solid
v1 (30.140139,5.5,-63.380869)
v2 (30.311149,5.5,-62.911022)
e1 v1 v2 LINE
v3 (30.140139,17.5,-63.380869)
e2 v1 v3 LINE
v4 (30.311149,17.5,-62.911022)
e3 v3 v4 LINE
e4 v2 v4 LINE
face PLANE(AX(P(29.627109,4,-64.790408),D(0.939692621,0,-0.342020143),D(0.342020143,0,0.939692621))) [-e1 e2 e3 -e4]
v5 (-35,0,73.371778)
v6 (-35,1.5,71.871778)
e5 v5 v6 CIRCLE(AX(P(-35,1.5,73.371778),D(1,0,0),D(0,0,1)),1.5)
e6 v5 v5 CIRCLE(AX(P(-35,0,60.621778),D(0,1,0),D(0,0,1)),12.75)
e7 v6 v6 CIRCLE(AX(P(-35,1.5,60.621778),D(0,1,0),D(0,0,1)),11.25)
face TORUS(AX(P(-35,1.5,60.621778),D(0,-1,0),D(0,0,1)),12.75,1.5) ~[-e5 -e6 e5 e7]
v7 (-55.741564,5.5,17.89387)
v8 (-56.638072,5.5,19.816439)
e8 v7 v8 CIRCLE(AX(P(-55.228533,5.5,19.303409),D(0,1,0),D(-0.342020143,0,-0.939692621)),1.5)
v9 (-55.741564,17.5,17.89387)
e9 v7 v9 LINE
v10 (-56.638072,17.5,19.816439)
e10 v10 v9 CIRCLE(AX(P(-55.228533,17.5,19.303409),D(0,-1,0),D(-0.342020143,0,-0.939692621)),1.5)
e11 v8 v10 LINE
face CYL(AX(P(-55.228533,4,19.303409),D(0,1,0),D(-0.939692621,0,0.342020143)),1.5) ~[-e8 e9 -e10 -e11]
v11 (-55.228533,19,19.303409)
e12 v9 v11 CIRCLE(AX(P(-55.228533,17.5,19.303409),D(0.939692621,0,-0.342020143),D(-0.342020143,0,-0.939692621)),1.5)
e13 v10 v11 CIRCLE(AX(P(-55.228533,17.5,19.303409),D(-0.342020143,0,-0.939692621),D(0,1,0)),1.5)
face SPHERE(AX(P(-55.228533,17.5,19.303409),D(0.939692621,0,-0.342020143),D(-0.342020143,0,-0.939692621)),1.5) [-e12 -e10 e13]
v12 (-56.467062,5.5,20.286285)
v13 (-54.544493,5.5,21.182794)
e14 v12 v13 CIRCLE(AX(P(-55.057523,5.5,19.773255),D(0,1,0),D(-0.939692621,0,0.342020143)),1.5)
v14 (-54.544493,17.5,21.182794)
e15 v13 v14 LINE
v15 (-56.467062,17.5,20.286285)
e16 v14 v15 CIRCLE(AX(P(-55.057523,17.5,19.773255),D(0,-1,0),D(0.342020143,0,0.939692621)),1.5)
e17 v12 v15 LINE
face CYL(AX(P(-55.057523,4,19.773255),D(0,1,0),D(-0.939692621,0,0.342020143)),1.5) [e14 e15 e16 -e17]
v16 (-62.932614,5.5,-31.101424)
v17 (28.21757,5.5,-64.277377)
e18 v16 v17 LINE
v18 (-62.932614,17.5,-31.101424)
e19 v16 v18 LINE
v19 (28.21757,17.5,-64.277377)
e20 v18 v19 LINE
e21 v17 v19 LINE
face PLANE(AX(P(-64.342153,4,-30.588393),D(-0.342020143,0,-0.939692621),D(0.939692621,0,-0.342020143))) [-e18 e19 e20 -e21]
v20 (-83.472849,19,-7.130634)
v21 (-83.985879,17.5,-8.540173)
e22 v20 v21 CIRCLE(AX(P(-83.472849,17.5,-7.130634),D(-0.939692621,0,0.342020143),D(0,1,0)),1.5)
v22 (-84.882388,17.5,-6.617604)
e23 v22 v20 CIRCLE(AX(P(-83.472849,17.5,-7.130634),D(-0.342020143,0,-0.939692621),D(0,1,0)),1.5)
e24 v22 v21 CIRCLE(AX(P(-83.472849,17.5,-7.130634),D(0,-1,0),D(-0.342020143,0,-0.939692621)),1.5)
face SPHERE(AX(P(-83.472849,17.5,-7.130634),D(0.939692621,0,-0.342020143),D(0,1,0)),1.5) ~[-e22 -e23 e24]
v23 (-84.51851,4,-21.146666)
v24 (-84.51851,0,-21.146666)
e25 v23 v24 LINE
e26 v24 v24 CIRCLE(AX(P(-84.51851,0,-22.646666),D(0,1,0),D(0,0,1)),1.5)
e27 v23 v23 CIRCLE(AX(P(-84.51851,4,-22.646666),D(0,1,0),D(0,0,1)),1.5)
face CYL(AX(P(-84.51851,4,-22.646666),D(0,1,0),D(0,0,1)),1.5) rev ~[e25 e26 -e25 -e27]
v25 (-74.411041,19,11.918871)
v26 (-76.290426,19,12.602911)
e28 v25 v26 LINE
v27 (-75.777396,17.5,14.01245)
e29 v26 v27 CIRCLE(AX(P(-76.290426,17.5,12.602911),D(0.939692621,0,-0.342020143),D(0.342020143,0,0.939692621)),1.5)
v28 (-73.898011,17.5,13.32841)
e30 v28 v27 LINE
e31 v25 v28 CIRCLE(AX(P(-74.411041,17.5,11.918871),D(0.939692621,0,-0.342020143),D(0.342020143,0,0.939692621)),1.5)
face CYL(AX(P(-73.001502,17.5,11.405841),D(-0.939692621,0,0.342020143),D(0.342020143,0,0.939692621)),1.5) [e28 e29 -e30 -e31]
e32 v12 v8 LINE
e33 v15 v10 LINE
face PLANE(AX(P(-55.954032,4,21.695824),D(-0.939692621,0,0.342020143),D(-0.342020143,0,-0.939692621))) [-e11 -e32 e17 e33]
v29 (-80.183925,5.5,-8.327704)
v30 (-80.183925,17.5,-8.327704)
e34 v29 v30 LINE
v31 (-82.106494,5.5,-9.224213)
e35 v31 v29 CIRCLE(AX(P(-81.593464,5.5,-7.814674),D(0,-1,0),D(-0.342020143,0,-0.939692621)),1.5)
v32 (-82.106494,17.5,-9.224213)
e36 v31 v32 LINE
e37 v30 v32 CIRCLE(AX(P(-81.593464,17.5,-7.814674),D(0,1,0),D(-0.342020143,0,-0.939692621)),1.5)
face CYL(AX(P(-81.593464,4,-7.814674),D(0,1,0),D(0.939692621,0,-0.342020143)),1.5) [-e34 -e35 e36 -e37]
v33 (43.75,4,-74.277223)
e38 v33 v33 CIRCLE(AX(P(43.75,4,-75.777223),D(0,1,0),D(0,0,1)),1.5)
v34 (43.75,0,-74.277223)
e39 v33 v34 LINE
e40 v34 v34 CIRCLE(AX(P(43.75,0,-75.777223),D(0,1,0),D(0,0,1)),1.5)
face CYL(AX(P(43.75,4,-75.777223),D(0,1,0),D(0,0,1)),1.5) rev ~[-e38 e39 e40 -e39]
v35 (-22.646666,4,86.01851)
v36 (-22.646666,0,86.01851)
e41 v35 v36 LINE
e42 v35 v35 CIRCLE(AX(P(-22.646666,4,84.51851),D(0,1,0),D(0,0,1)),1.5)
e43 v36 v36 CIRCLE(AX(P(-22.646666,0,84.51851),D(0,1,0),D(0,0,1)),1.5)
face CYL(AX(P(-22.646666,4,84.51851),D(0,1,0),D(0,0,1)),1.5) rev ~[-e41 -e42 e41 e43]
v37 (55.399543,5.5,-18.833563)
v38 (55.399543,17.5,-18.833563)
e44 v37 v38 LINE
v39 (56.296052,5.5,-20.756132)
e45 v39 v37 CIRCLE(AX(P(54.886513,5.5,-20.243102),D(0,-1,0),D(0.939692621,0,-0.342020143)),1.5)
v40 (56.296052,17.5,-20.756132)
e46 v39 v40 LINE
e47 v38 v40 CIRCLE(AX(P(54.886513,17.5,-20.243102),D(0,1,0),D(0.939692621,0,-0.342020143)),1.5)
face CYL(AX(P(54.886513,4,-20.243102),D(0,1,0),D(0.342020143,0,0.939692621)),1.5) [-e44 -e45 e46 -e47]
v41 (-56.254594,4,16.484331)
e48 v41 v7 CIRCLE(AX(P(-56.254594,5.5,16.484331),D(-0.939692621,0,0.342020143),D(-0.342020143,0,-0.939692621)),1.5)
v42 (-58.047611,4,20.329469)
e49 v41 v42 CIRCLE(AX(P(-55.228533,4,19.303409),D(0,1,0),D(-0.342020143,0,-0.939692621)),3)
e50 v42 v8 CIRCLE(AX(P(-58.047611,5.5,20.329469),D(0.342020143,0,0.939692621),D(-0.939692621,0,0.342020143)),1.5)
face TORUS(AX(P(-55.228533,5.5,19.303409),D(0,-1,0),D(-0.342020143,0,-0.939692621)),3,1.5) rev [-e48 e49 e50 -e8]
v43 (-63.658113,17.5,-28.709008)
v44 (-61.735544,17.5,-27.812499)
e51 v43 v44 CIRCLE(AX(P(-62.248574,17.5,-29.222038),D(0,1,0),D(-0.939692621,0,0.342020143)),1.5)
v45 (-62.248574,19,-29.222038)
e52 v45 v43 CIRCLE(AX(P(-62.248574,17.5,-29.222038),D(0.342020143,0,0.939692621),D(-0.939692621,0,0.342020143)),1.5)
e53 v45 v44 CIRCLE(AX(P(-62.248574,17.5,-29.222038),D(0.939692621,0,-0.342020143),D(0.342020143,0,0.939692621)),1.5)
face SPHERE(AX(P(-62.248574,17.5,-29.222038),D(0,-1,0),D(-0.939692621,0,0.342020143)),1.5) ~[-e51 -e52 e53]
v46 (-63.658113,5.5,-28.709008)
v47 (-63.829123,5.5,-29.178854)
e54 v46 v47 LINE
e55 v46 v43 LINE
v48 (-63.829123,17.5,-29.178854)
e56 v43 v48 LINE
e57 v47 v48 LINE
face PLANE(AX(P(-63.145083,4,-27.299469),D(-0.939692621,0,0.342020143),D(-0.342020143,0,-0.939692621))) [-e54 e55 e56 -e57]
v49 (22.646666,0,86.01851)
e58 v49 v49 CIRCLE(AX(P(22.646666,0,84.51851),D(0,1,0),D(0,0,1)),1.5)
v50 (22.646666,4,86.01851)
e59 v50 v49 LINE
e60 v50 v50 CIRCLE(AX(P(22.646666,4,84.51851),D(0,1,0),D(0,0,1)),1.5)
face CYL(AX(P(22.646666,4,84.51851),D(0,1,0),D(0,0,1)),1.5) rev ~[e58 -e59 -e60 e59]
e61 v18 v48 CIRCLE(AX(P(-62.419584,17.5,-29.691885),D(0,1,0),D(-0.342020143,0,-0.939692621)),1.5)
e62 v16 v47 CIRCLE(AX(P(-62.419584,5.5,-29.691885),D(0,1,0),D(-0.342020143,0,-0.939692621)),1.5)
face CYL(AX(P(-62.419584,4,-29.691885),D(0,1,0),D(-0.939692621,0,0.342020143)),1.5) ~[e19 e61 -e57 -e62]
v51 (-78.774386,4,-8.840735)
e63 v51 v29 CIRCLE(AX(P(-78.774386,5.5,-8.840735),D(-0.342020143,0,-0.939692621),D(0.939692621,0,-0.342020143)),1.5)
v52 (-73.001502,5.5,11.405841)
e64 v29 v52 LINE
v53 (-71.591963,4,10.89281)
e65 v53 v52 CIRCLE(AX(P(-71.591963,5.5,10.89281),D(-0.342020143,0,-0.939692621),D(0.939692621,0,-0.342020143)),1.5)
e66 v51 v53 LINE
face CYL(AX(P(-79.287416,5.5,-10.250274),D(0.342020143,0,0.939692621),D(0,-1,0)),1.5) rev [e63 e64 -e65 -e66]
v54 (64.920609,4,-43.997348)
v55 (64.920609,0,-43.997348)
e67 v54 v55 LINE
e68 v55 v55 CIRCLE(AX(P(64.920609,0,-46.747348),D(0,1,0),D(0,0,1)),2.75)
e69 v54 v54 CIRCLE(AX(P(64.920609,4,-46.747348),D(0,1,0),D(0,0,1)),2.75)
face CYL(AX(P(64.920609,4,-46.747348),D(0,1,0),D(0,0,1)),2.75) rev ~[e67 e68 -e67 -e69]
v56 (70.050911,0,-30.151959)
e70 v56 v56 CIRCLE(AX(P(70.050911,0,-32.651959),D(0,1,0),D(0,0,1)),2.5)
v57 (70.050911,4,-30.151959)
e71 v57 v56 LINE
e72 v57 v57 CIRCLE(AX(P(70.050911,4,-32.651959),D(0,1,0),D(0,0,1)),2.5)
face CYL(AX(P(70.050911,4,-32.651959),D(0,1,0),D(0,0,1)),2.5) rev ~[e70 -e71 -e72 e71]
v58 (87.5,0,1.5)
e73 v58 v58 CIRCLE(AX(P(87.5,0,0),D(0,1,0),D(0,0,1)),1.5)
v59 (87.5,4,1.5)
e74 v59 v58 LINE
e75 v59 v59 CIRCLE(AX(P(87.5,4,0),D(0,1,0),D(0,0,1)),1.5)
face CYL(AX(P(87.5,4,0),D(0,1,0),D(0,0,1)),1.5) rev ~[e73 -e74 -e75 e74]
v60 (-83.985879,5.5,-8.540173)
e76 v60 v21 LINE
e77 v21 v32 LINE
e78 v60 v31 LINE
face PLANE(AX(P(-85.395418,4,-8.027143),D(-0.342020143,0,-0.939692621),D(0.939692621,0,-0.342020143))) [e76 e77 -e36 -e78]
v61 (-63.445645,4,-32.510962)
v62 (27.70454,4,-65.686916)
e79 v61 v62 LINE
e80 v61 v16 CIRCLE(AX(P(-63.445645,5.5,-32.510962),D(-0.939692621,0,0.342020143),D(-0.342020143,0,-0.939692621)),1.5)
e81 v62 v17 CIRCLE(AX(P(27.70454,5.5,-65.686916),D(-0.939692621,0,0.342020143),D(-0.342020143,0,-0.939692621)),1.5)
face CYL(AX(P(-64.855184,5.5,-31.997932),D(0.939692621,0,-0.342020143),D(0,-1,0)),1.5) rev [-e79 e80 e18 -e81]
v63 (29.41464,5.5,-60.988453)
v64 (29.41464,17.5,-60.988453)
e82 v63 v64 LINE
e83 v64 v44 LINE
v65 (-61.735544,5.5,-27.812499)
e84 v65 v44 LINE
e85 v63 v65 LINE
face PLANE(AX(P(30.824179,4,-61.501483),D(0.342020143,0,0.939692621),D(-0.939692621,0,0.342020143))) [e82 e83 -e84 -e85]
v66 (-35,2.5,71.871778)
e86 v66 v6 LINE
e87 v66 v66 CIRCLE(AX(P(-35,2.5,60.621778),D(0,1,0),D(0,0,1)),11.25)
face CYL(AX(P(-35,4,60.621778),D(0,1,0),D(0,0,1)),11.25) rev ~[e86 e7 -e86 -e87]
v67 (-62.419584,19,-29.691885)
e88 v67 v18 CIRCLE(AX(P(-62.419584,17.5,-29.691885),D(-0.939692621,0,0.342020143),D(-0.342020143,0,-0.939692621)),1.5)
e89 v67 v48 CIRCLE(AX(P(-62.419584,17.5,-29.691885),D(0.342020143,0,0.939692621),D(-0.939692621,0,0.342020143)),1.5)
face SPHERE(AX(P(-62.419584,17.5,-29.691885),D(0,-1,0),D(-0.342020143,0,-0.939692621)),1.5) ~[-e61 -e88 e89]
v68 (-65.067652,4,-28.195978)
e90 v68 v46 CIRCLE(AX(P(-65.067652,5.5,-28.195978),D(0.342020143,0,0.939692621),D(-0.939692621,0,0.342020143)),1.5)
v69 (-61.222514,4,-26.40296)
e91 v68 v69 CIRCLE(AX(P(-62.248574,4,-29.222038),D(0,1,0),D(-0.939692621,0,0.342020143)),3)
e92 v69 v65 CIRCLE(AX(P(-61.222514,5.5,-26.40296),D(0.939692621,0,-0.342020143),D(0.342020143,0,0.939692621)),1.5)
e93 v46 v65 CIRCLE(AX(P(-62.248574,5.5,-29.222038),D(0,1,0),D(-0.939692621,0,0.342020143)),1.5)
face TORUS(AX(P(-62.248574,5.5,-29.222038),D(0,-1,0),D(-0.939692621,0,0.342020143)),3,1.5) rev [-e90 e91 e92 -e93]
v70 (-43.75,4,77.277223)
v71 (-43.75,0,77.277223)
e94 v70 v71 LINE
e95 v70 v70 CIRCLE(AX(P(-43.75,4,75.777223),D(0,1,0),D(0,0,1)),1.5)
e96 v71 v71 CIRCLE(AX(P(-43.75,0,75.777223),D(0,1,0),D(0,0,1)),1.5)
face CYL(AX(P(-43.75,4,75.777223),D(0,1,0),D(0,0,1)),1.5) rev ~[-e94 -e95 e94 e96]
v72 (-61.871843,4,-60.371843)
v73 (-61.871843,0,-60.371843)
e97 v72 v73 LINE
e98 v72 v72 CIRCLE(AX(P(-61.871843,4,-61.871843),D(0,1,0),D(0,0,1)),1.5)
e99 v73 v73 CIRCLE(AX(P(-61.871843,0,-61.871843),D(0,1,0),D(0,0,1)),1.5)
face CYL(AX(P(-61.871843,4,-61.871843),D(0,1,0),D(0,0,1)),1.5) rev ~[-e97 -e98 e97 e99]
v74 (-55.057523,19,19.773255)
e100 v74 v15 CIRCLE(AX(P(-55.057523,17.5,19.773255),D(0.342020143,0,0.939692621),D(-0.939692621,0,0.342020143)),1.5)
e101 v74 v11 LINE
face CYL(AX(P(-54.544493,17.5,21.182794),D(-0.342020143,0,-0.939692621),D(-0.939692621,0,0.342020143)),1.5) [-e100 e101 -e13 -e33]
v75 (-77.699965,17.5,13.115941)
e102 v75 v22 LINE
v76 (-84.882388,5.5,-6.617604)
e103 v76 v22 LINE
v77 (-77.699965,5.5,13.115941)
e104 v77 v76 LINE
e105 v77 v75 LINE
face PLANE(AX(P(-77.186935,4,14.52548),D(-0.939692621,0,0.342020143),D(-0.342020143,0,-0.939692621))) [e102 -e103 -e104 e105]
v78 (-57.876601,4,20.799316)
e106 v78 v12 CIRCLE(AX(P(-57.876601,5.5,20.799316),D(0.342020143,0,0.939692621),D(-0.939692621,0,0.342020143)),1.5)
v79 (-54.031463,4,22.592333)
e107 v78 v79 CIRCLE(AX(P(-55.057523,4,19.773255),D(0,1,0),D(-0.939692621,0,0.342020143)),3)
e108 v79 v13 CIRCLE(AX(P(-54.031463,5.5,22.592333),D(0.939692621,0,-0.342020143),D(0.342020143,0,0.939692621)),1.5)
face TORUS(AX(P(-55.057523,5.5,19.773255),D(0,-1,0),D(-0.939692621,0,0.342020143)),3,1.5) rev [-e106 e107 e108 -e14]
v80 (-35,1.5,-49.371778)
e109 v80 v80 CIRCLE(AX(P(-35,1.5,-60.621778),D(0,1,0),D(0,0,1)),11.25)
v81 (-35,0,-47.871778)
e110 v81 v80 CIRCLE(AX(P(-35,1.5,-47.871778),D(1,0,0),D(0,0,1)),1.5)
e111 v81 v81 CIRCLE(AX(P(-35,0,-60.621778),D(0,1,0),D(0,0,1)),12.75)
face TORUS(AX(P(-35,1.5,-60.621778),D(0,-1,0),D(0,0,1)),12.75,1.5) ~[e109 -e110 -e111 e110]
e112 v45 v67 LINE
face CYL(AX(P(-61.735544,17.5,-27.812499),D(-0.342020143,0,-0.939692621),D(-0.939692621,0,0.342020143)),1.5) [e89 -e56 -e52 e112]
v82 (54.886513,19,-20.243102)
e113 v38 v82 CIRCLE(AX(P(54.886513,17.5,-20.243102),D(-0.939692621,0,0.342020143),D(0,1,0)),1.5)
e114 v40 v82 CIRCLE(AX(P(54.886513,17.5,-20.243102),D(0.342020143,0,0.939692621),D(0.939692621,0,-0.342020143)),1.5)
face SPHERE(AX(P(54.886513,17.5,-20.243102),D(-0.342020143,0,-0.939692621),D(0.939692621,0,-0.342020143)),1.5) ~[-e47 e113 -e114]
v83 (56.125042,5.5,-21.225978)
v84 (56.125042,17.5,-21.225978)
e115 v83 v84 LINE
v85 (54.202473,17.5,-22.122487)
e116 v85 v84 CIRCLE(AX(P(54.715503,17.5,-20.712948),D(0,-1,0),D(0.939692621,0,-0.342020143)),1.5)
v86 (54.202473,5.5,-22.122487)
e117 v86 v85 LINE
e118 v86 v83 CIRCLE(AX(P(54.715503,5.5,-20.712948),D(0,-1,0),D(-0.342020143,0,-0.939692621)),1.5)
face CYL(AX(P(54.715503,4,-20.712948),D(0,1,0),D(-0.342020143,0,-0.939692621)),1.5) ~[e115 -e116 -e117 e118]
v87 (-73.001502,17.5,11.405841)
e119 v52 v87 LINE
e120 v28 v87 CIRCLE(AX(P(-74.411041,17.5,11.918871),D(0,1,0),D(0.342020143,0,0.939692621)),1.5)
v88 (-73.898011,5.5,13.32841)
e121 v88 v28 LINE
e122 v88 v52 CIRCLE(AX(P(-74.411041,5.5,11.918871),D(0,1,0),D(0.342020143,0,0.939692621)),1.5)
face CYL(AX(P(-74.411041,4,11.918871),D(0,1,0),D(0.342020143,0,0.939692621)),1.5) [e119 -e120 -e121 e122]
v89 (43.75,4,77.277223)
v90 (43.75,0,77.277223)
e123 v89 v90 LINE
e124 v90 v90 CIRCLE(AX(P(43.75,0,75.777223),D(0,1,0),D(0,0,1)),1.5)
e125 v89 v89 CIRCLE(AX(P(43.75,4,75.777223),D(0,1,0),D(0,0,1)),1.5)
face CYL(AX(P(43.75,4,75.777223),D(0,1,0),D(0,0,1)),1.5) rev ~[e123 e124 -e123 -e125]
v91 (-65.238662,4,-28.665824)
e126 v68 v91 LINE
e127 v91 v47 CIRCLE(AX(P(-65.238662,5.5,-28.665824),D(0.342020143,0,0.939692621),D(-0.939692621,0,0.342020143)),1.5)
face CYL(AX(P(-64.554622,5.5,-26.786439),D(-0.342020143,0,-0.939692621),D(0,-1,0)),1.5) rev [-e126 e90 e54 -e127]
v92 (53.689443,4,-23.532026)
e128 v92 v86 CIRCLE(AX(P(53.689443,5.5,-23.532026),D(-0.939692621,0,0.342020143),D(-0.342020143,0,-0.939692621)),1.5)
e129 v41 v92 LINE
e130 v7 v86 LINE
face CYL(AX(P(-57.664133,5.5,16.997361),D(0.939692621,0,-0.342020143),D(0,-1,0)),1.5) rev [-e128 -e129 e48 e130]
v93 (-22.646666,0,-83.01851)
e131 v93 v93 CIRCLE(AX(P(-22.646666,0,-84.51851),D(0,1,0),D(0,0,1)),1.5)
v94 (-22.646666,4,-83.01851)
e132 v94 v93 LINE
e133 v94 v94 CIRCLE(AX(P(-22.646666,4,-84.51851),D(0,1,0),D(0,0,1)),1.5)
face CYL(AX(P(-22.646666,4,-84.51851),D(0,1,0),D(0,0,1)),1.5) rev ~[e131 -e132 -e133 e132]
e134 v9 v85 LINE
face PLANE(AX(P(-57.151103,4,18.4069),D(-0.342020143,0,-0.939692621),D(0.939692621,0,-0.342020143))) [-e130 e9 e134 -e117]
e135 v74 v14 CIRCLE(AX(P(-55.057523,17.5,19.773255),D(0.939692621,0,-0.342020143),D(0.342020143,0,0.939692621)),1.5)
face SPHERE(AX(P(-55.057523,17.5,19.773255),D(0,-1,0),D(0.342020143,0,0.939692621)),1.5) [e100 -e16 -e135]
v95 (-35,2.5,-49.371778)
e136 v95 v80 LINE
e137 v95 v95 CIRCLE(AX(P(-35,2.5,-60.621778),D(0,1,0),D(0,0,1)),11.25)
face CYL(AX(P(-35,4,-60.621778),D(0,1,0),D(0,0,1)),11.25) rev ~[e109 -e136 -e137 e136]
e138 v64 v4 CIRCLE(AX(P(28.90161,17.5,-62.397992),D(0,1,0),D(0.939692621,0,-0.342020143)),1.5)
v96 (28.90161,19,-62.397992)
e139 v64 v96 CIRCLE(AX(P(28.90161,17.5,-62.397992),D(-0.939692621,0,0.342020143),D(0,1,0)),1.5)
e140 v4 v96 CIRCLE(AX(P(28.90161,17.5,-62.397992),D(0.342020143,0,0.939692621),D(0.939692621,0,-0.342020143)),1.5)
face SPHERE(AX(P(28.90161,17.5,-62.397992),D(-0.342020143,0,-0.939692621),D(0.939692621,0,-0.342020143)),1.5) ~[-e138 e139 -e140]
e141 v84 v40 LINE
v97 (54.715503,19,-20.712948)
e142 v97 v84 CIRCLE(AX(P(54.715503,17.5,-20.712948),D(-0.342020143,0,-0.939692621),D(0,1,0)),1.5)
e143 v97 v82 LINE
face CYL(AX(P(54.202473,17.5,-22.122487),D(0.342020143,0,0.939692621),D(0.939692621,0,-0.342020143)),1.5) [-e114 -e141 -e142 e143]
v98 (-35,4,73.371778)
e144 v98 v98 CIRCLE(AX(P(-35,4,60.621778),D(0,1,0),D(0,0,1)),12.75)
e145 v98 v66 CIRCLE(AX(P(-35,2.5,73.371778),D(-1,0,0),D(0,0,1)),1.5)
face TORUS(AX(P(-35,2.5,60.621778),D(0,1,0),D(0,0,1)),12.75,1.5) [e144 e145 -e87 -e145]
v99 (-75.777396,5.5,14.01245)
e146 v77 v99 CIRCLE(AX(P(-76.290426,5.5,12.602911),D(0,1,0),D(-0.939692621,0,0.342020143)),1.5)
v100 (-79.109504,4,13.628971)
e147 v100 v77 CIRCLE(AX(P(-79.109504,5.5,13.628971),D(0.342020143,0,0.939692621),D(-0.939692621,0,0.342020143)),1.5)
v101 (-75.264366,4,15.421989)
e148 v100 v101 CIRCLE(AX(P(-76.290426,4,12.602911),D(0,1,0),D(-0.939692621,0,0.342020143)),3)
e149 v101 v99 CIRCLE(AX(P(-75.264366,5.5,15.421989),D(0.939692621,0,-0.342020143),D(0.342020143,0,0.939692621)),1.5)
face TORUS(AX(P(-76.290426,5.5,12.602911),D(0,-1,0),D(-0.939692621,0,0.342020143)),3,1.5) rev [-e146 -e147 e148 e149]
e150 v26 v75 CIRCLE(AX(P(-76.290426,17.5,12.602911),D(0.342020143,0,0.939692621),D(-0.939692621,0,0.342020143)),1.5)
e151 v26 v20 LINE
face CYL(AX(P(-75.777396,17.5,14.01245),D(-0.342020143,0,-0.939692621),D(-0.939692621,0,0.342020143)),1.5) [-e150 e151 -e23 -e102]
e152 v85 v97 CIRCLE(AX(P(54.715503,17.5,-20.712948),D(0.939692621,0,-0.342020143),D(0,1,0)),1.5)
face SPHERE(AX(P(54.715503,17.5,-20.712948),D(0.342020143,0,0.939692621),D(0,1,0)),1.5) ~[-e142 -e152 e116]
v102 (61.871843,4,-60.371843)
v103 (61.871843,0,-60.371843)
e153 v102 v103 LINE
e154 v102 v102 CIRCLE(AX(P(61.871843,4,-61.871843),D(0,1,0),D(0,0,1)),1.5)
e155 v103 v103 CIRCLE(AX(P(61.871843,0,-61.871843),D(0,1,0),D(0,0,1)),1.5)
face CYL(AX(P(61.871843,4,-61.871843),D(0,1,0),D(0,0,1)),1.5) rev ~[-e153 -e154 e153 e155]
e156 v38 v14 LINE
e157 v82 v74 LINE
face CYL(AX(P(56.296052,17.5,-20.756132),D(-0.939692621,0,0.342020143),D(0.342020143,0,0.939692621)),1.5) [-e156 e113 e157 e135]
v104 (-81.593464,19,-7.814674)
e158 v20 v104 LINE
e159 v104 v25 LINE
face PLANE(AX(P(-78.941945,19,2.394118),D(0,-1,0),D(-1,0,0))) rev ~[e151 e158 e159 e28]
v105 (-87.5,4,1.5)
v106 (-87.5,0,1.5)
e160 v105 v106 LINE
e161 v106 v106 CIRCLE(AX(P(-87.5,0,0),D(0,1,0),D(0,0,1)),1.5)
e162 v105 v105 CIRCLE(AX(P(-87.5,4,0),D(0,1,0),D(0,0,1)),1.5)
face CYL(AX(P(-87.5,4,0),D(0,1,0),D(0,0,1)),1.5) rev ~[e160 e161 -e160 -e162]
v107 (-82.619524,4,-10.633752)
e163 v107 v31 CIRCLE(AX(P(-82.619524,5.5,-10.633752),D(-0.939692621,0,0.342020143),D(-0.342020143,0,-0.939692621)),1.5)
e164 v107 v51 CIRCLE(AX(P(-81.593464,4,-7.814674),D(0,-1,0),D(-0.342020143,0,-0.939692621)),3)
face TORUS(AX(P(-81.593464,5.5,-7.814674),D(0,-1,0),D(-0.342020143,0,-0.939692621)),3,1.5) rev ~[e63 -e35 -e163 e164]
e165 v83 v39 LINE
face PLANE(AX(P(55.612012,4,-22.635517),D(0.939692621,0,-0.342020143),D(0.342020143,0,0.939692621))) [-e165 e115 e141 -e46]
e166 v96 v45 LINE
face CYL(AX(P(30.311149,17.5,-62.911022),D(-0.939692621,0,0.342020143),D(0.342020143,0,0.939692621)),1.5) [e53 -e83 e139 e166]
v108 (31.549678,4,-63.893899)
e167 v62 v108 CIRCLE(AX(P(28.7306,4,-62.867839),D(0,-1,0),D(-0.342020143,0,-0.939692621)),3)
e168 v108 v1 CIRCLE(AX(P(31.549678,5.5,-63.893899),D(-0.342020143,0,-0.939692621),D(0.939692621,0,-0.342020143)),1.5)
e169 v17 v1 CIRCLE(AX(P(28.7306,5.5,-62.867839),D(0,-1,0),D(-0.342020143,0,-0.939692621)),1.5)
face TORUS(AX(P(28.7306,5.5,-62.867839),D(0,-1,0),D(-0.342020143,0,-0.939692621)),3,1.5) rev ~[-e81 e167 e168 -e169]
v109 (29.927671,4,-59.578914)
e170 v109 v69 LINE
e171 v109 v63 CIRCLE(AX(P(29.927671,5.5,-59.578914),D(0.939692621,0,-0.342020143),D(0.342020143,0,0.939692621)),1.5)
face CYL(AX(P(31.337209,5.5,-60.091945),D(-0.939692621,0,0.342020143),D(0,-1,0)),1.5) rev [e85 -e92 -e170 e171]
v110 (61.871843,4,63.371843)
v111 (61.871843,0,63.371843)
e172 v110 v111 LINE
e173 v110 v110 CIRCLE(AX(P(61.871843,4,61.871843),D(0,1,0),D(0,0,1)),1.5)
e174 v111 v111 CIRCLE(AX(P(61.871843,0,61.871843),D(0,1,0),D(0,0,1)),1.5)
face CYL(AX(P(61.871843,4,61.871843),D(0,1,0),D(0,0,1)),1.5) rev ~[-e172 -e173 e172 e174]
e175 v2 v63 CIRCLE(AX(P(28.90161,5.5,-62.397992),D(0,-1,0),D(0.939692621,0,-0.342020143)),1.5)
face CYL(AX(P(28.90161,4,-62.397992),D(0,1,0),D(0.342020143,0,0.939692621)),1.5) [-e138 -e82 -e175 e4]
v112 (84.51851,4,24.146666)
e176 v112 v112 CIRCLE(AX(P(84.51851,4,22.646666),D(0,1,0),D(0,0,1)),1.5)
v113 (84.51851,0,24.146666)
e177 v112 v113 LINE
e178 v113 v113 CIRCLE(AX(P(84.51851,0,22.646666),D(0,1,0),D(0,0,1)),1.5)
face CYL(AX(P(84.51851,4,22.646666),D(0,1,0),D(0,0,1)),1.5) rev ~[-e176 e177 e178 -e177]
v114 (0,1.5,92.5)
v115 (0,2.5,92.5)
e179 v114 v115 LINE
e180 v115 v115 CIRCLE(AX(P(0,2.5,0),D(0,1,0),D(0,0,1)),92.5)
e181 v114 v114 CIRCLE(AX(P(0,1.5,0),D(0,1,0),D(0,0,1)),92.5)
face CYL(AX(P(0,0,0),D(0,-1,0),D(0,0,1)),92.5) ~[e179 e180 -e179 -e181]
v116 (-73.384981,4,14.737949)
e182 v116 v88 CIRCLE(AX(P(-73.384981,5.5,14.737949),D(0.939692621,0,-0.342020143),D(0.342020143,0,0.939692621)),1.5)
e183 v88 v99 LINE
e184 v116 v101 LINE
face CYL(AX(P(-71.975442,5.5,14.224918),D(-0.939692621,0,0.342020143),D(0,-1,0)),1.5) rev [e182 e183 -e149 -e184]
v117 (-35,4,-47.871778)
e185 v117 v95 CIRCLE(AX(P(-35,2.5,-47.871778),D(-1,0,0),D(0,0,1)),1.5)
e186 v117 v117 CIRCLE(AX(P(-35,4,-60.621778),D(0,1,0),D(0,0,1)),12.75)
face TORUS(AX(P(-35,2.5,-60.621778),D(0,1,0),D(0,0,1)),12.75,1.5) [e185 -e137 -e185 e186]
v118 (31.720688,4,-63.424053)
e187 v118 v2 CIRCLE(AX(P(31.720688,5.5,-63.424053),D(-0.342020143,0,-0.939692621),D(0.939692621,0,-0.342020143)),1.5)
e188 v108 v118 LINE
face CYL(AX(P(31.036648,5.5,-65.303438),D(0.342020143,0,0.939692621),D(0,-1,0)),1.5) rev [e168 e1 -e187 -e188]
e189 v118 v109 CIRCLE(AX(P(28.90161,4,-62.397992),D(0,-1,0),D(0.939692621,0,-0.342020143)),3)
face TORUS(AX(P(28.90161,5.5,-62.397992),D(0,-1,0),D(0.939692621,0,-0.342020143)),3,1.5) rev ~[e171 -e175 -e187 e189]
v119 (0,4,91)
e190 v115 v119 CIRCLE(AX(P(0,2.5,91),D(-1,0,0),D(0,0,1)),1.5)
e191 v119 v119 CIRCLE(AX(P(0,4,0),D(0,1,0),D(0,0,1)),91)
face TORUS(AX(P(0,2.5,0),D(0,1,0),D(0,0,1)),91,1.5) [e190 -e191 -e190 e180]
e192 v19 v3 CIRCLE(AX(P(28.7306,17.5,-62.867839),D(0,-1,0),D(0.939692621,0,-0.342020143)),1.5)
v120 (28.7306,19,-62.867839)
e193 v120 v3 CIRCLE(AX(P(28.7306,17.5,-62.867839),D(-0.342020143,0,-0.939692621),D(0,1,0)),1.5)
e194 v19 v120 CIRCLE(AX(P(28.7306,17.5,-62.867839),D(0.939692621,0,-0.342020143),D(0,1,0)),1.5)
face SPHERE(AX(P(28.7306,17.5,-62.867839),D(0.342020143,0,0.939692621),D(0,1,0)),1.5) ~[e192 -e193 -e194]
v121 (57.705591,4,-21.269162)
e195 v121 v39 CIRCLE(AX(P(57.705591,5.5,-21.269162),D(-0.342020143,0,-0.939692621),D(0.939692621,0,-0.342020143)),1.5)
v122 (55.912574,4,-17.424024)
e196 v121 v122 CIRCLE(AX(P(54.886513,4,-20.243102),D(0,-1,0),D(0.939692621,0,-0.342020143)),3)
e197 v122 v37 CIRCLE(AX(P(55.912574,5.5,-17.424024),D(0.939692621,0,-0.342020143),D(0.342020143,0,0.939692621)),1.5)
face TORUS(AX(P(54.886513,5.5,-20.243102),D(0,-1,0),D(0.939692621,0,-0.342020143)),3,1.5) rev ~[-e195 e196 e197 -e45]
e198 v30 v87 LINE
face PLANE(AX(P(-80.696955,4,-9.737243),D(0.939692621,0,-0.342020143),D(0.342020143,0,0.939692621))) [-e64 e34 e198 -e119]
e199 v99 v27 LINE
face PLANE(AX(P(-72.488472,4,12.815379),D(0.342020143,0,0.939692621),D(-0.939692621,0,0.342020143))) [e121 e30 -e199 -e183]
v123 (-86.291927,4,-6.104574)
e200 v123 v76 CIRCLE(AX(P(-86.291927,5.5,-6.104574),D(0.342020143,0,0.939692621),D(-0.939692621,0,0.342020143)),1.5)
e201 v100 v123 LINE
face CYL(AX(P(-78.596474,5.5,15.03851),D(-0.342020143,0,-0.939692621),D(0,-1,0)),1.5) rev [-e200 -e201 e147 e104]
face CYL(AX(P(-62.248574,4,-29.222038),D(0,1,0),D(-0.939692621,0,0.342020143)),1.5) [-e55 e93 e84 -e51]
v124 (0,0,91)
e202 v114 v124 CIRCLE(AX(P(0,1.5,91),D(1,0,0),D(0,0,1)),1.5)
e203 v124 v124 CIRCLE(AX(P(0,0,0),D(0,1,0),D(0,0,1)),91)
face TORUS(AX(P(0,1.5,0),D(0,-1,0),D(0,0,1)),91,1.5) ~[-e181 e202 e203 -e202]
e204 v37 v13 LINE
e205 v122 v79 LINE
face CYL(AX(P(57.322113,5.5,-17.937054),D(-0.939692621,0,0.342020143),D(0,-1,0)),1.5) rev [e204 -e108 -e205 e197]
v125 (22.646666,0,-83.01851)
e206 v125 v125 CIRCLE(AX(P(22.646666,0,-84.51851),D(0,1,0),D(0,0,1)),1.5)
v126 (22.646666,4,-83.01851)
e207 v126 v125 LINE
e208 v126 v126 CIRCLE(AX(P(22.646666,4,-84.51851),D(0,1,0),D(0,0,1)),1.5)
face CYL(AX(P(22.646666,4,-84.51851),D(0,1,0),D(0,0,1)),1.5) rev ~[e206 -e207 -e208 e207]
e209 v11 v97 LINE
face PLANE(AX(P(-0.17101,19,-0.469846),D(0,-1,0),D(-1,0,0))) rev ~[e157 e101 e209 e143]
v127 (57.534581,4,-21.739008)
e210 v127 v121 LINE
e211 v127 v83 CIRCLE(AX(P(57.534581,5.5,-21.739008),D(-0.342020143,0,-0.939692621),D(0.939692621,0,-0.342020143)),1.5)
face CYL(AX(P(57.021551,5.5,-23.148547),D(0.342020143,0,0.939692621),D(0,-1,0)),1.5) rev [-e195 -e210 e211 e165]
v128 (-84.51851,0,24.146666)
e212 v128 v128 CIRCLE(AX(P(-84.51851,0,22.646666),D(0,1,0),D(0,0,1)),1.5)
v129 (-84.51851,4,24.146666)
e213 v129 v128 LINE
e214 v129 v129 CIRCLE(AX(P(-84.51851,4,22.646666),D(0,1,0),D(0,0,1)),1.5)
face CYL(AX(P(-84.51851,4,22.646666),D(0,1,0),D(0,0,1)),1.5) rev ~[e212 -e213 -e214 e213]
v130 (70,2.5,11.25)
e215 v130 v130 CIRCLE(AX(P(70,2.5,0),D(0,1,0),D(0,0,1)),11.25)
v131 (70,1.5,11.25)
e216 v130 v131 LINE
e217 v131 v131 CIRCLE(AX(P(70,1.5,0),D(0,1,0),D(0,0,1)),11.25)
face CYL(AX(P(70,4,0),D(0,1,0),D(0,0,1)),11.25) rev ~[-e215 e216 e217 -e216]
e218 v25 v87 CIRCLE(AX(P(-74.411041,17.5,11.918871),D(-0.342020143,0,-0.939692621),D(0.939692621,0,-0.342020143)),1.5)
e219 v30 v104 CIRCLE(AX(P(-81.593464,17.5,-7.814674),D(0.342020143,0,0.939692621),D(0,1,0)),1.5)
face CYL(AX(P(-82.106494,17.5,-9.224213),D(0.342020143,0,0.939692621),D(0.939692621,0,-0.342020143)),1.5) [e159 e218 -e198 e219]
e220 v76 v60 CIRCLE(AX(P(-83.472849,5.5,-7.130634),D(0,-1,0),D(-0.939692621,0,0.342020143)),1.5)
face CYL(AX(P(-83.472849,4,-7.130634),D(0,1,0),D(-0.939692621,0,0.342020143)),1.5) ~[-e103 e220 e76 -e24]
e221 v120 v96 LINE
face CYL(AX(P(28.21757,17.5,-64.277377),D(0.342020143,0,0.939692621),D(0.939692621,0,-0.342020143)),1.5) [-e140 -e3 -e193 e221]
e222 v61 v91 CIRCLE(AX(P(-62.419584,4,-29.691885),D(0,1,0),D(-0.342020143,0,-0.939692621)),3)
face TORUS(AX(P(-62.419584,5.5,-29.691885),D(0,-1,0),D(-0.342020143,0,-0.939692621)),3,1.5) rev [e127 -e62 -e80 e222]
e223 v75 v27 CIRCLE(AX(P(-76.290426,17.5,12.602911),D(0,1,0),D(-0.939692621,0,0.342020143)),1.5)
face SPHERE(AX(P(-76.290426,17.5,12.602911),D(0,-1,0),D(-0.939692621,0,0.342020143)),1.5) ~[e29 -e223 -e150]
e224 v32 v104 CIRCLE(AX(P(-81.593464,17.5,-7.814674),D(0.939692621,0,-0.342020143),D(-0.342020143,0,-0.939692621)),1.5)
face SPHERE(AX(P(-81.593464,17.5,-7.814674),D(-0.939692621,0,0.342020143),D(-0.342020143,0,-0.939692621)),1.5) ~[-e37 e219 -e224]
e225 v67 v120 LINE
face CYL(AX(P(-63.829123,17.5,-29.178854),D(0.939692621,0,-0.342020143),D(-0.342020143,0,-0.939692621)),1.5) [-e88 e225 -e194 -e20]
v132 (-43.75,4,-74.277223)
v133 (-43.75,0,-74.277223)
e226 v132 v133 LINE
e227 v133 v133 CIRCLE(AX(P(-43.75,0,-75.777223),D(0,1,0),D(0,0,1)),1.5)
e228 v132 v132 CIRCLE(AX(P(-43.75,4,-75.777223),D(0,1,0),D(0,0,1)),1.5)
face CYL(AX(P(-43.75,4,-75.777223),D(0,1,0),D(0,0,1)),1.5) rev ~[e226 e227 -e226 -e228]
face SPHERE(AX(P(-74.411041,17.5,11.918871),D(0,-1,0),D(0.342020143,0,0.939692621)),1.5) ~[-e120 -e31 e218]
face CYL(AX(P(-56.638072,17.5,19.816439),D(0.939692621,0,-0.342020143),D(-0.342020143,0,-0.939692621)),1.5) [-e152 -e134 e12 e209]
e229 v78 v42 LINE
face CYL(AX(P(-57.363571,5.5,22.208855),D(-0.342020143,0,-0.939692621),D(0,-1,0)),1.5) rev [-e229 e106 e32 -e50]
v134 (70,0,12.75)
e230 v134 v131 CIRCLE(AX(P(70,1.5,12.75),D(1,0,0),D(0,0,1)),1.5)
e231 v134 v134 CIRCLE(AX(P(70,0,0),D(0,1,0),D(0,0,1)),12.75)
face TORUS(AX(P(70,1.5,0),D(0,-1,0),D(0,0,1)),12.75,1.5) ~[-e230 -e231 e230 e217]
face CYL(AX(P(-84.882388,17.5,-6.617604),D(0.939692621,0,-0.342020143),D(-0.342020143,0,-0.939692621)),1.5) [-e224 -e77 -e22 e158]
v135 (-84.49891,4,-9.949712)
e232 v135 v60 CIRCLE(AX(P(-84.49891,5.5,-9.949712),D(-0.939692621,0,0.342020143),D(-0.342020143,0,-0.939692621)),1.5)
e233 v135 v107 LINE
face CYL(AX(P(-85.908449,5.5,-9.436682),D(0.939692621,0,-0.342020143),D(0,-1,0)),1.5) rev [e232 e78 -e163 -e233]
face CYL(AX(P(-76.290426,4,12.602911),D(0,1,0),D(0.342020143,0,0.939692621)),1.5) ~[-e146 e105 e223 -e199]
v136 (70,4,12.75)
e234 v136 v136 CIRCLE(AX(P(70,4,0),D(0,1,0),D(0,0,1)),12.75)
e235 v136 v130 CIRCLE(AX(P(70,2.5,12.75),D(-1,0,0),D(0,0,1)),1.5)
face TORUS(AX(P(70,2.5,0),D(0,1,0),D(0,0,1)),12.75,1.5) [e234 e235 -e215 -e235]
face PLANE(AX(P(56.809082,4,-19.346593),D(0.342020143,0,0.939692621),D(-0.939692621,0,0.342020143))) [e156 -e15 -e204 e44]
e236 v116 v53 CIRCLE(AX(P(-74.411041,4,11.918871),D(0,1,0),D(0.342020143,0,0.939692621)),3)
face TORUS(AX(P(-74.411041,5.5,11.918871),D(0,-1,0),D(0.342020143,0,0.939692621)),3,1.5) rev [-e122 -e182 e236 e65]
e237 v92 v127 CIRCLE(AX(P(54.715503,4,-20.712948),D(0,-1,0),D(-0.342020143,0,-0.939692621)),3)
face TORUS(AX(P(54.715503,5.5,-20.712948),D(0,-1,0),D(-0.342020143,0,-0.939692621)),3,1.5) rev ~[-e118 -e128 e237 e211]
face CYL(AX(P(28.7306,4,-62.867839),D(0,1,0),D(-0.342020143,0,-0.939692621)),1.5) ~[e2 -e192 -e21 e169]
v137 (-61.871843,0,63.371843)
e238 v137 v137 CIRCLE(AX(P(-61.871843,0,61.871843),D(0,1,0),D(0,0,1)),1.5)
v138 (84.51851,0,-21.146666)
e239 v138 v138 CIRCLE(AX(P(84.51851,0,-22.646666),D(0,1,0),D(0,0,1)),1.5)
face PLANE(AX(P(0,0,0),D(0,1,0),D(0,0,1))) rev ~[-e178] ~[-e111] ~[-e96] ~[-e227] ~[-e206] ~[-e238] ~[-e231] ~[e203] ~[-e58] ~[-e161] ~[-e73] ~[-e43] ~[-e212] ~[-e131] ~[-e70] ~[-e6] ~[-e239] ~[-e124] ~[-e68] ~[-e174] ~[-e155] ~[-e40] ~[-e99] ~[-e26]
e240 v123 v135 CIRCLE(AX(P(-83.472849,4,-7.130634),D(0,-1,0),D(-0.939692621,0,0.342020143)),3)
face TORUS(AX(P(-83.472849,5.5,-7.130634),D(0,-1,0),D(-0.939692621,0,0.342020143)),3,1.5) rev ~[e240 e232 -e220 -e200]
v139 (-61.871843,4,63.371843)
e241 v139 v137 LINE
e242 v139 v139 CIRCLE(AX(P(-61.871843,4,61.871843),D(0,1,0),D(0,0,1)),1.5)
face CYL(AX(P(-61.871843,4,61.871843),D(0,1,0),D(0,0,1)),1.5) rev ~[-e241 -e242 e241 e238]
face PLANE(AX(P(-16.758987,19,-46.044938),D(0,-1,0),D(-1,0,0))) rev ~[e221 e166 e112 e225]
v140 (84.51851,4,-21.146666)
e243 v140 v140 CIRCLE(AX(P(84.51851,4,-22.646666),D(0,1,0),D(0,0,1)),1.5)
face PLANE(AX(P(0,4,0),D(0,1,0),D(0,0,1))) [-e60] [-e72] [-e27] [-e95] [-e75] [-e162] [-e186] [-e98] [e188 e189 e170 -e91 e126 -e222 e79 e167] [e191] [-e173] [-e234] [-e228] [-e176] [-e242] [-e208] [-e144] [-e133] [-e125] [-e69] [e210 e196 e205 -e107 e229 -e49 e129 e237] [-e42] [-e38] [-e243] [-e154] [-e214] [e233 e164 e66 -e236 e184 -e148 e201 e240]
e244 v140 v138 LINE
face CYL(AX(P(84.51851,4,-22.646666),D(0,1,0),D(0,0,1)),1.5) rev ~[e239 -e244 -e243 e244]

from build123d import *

# Parameters (mm, degrees)
SKETCH1_R           = 92.49999999999999
BOSS_EXTRUDE1_DEPTH = 4
SKETCH2_R           = 11.25
SKETCH2_R_2         = 1.5000000000000249
SKETCH2_R_3         = 1.499999999995183
SKETCH2_R_4         = 1.4999999999965499
SKETCH2_R_5         = 1.5000000000042735
SKETCH2_R_6         = 1.4999999999999871
SKETCH2_R_7         = 1.5000000000000453
SKETCH2_R_8         = 1.500000000007309
SKETCH2_R_9         = 1.5000000000031166
SKETCH2_R_10        = 1.5000000000027374
SKETCH2_R_11        = 11.249999999999991
SKETCH2_R_12        = 1.5000000000078528
SKETCH2_R_13        = 1.5000000000045326
SKETCH2_R_14        = 1.500000000002343
SKETCH2_R_15        = 1.500000000005574
SKETCH2_R_16        = 1.5000000000030589
SKETCH2_R_17        = 1.499999999999451
SKETCH2_R_18        = 1.5000000000021194
SKETCH2_R_19        = 1.4999999999995053
SKETCH2_R_20        = 1.4999999999963318
CUT_EXTRUDE1_DEPTH  = 131.87589541240968
FILLET1_R           = 1.5
BOSS_EXTRUDE2_DEPTH = 15
SKETCH4_R           = 2.750000000000009
SKETCH4_R_2         = 2.499999999999997
CUT_EXTRUDE2_DEPTH  = 10
FILLET2_R           = 1.5


with BuildPart() as part:
    # Sketch1 → Boss-Extrude1 (new body)
    with BuildSketch(Plane(origin=(0, 0, 0), x_dir=(1, 0, 0), z_dir=(0, 1, 0))):
        Circle(SKETCH1_R)
    extrude(amount=BOSS_EXTRUDE1_DEPTH)

    # Sketch2 → Cut-Extrude1 (cut, through all)
    with BuildSketch(Plane(origin=(0, 4, 0), x_dir=(1, 0, 0), z_dir=(0, 1, 0))):
        with Locations((-35.00000000000031, 60.62177826491053)):
            Circle(SKETCH2_R)
        with Locations((-43.750000000000405, 75.7772228311382)):
            Circle(SKETCH2_R_2)
        with Locations((-22.64666644646606, 84.5185098002921)):
            Circle(SKETCH2_R_3)
        with Locations((-61.87184335381868, 61.871843353821774)):
            Circle(SKETCH2_R_4)
        with Locations((43.74999999999966, 75.77722283114234)):
            Circle(SKETCH2_R_5)
        with Locations((22.646666446471723, 84.51850980029295)):
            Circle(SKETCH2_R_6)
        with Locations((61.87184335382398, 61.871843353822015)):
            Circle(SKETCH2_R_7)
        with Locations((87.50000000000331, 5.98713e-12)):
            Circle(SKETCH2_R_8)
        with Locations((84.51850980029364, 22.646666446473013)):
            Circle(SKETCH2_R_9)
        with Locations((84.51850980029329, -22.646666446468245)):
            Circle(SKETCH2_R_10)
        with Locations((70, 3.786e-13)):
            Circle(SKETCH2_R_11)
        with Locations((-34.9999999999997, -60.62177826491089)):
            Circle(SKETCH2_R)
        with Locations((43.75000000000686, -75.77722283113455)):
            Circle(SKETCH2_R_12)
        with Locations((61.871843353825135, -61.87184335381813)):
            Circle(SKETCH2_R_13)
        with Locations((22.646666446472512, -84.51850980028846)):
            Circle(SKETCH2_R_14)
        with Locations((-43.74999999999319, -75.77722283113872)):
            Circle(SKETCH2_R_15)
        with Locations((-22.646666446465257, -84.51850980028934)):
            Circle(SKETCH2_R_16)
        with Locations((-61.87184335381753, -61.871843353818406)):
            Circle(SKETCH2_R_17)
        with Locations((-87.49999999999687, -2.31772e-12)):
            Circle(SKETCH2_R_18)
        with Locations((-84.5185098002872, -22.646666446469347)):
            Circle(SKETCH2_R_19)
        with Locations((-84.51850980028684, 22.646666446471897)):
            Circle(SKETCH2_R_20)
    extrude(amount=-CUT_EXTRUDE1_DEPTH, mode=Mode.SUBTRACT)

    # Fillet1
    fillet1_edges = [part.edges().sort_by_distance(p)[0] for p in [
        (-92.49999999999999, 4, 2.975e-14),
        (-92.49999999999999, 0, 2.975e-14),
        (58.75000000000001, 4, -3.7998e-13),
        (58.75000000000001, 0, -3.7998e-13),
        (-46.25000000000031, 4, -60.62177826491053),
        (-46.25000000000031, 0, -60.62177826491053),
        (-46.2499999999997, 4, 60.62177826491089),
        (-46.2499999999997, 0, 60.62177826491089),
    ]]
    fillet(fillet1_edges, radius=FILLET1_R)

    # Sketch3 → Boss-Extrude2 (add)
    with BuildSketch(Plane(origin=(0, 4, 0), x_dir=(1, 0, 0), z_dir=(0, 1, 0))):
        Polygon((-72.48847183437992, -12.815379476090778), (-76.5927135542881, -1.539068026660118), (-80.69695527419628, 9.737243422770598), (-85.39541837812693, 8.02714270614176), (-77.18693493831057, -14.525480192719614), align=None)
        Polygon((-63.14508281143372, 27.29946916585036), (-16.16045177213818, 44.400476332134), (30.824179267157554, 61.501483498417706), (29.62710876551767, 64.79040767116848), (-64.34215331307357, 30.588393338601033), align=None)
        Polygon((-57.151102569636805, -18.40690020277215), (-55.95403206799694, -21.695824375522825), (56.809082426311754, 19.346592823558282), (55.612011924671876, 22.635516996308972), align=None)
    extrude(amount=BOSS_EXTRUDE2_DEPTH)

    # Sketch4 → Cut-Extrude2 (cut)
    with BuildSketch(Plane(origin=(0, 4, 0), x_dir=(1, 0, 0), z_dir=(0, 1, 0))):
        with Locations((64.92060879565776, 46.747348091642216)):
            Circle(SKETCH4_R)
        with Locations((70.05091094554284, 32.65195877985365)):
            Circle(SKETCH4_R_2)
    extrude(amount=-CUT_EXTRUDE2_DEPTH, mode=Mode.SUBTRACT)

    # Fillet2
    fillet2_edges = [part.edges().sort_by_distance(p)[0] for p in [
        (0.4275251791574064, 4, 1.1746157759822715),
        (56.21054717549181, 4, -20.991054909933627),
        (-0.7695453224824647, 4, -2.1143083967684113),
        (-56.55256731881687, 4, 20.051362289147487),
        (-74.83770338634525, 4, 13.670429834405196),
        (-76.59271355428811, 4, 1.5390680266600896),
        (-83.0461868261616, 4, -8.882193064456178),
        (-81.29117665821875, 4, 3.2491687432889282),
        (-16.16045177213808, 4, -44.40047633213403),
        (30.225644016337608, 4, -63.1459455847931),
        (-63.743618062253645, 4, -28.943931252225696),
        (-17.357522273777946, 4, -47.68940050488476),
        (0.4275251791574064, 19, 1.1746157759822715),
        (56.21054717549181, 19, -20.991054909933627),
        (-0.7695453224824647, 19, -2.1143083967684113),
        (-55.95403206799694, 11.5, 21.695824375522825),
        (-57.151102569636805, 11.5, 18.40690020277215),
        (55.612011924671876, 11.5, -22.635516996308972),
        (56.809082426311754, 11.5, -19.346592823558282),
        (-77.18693493831057, 11.5, 14.525480192719614),
        (-85.39541837812693, 11.5, -8.02714270614176),
        (-80.69695527419628, 11.5, -9.737243422770598),
        (-72.48847183437992, 11.5, 12.815379476090778),
        (-63.743618062253645, 19, -28.943931252225696),
        (-16.160451772138085, 19, -44.40047633213403),
        (30.225644016337608, 19, -63.1459455847931),
        (-17.357522273777946, 19, -47.68940050488476),
        (-64.34215331307357, 11.5, -30.588393338601033),
        (29.627108765517672, 11.5, -64.79040767116848),
        (30.82417926715755, 11.5, -61.501483498417706),
        (-63.14508281143372, 11.5, -27.29946916585036),
        (-56.55256731881687, 19, 20.051362289147487),
        (-83.0461868261616, 19, -8.882193064456178),
        (-74.83770338634525, 19, 13.670429834405196),
        (-76.59271355428811, 19, 1.5390680266600896),
        (-81.29117665821875, 19, 3.2491687432889282),
    ]]
    fillet(fillet2_edges, radius=FILLET2_R)


solid = part.part
